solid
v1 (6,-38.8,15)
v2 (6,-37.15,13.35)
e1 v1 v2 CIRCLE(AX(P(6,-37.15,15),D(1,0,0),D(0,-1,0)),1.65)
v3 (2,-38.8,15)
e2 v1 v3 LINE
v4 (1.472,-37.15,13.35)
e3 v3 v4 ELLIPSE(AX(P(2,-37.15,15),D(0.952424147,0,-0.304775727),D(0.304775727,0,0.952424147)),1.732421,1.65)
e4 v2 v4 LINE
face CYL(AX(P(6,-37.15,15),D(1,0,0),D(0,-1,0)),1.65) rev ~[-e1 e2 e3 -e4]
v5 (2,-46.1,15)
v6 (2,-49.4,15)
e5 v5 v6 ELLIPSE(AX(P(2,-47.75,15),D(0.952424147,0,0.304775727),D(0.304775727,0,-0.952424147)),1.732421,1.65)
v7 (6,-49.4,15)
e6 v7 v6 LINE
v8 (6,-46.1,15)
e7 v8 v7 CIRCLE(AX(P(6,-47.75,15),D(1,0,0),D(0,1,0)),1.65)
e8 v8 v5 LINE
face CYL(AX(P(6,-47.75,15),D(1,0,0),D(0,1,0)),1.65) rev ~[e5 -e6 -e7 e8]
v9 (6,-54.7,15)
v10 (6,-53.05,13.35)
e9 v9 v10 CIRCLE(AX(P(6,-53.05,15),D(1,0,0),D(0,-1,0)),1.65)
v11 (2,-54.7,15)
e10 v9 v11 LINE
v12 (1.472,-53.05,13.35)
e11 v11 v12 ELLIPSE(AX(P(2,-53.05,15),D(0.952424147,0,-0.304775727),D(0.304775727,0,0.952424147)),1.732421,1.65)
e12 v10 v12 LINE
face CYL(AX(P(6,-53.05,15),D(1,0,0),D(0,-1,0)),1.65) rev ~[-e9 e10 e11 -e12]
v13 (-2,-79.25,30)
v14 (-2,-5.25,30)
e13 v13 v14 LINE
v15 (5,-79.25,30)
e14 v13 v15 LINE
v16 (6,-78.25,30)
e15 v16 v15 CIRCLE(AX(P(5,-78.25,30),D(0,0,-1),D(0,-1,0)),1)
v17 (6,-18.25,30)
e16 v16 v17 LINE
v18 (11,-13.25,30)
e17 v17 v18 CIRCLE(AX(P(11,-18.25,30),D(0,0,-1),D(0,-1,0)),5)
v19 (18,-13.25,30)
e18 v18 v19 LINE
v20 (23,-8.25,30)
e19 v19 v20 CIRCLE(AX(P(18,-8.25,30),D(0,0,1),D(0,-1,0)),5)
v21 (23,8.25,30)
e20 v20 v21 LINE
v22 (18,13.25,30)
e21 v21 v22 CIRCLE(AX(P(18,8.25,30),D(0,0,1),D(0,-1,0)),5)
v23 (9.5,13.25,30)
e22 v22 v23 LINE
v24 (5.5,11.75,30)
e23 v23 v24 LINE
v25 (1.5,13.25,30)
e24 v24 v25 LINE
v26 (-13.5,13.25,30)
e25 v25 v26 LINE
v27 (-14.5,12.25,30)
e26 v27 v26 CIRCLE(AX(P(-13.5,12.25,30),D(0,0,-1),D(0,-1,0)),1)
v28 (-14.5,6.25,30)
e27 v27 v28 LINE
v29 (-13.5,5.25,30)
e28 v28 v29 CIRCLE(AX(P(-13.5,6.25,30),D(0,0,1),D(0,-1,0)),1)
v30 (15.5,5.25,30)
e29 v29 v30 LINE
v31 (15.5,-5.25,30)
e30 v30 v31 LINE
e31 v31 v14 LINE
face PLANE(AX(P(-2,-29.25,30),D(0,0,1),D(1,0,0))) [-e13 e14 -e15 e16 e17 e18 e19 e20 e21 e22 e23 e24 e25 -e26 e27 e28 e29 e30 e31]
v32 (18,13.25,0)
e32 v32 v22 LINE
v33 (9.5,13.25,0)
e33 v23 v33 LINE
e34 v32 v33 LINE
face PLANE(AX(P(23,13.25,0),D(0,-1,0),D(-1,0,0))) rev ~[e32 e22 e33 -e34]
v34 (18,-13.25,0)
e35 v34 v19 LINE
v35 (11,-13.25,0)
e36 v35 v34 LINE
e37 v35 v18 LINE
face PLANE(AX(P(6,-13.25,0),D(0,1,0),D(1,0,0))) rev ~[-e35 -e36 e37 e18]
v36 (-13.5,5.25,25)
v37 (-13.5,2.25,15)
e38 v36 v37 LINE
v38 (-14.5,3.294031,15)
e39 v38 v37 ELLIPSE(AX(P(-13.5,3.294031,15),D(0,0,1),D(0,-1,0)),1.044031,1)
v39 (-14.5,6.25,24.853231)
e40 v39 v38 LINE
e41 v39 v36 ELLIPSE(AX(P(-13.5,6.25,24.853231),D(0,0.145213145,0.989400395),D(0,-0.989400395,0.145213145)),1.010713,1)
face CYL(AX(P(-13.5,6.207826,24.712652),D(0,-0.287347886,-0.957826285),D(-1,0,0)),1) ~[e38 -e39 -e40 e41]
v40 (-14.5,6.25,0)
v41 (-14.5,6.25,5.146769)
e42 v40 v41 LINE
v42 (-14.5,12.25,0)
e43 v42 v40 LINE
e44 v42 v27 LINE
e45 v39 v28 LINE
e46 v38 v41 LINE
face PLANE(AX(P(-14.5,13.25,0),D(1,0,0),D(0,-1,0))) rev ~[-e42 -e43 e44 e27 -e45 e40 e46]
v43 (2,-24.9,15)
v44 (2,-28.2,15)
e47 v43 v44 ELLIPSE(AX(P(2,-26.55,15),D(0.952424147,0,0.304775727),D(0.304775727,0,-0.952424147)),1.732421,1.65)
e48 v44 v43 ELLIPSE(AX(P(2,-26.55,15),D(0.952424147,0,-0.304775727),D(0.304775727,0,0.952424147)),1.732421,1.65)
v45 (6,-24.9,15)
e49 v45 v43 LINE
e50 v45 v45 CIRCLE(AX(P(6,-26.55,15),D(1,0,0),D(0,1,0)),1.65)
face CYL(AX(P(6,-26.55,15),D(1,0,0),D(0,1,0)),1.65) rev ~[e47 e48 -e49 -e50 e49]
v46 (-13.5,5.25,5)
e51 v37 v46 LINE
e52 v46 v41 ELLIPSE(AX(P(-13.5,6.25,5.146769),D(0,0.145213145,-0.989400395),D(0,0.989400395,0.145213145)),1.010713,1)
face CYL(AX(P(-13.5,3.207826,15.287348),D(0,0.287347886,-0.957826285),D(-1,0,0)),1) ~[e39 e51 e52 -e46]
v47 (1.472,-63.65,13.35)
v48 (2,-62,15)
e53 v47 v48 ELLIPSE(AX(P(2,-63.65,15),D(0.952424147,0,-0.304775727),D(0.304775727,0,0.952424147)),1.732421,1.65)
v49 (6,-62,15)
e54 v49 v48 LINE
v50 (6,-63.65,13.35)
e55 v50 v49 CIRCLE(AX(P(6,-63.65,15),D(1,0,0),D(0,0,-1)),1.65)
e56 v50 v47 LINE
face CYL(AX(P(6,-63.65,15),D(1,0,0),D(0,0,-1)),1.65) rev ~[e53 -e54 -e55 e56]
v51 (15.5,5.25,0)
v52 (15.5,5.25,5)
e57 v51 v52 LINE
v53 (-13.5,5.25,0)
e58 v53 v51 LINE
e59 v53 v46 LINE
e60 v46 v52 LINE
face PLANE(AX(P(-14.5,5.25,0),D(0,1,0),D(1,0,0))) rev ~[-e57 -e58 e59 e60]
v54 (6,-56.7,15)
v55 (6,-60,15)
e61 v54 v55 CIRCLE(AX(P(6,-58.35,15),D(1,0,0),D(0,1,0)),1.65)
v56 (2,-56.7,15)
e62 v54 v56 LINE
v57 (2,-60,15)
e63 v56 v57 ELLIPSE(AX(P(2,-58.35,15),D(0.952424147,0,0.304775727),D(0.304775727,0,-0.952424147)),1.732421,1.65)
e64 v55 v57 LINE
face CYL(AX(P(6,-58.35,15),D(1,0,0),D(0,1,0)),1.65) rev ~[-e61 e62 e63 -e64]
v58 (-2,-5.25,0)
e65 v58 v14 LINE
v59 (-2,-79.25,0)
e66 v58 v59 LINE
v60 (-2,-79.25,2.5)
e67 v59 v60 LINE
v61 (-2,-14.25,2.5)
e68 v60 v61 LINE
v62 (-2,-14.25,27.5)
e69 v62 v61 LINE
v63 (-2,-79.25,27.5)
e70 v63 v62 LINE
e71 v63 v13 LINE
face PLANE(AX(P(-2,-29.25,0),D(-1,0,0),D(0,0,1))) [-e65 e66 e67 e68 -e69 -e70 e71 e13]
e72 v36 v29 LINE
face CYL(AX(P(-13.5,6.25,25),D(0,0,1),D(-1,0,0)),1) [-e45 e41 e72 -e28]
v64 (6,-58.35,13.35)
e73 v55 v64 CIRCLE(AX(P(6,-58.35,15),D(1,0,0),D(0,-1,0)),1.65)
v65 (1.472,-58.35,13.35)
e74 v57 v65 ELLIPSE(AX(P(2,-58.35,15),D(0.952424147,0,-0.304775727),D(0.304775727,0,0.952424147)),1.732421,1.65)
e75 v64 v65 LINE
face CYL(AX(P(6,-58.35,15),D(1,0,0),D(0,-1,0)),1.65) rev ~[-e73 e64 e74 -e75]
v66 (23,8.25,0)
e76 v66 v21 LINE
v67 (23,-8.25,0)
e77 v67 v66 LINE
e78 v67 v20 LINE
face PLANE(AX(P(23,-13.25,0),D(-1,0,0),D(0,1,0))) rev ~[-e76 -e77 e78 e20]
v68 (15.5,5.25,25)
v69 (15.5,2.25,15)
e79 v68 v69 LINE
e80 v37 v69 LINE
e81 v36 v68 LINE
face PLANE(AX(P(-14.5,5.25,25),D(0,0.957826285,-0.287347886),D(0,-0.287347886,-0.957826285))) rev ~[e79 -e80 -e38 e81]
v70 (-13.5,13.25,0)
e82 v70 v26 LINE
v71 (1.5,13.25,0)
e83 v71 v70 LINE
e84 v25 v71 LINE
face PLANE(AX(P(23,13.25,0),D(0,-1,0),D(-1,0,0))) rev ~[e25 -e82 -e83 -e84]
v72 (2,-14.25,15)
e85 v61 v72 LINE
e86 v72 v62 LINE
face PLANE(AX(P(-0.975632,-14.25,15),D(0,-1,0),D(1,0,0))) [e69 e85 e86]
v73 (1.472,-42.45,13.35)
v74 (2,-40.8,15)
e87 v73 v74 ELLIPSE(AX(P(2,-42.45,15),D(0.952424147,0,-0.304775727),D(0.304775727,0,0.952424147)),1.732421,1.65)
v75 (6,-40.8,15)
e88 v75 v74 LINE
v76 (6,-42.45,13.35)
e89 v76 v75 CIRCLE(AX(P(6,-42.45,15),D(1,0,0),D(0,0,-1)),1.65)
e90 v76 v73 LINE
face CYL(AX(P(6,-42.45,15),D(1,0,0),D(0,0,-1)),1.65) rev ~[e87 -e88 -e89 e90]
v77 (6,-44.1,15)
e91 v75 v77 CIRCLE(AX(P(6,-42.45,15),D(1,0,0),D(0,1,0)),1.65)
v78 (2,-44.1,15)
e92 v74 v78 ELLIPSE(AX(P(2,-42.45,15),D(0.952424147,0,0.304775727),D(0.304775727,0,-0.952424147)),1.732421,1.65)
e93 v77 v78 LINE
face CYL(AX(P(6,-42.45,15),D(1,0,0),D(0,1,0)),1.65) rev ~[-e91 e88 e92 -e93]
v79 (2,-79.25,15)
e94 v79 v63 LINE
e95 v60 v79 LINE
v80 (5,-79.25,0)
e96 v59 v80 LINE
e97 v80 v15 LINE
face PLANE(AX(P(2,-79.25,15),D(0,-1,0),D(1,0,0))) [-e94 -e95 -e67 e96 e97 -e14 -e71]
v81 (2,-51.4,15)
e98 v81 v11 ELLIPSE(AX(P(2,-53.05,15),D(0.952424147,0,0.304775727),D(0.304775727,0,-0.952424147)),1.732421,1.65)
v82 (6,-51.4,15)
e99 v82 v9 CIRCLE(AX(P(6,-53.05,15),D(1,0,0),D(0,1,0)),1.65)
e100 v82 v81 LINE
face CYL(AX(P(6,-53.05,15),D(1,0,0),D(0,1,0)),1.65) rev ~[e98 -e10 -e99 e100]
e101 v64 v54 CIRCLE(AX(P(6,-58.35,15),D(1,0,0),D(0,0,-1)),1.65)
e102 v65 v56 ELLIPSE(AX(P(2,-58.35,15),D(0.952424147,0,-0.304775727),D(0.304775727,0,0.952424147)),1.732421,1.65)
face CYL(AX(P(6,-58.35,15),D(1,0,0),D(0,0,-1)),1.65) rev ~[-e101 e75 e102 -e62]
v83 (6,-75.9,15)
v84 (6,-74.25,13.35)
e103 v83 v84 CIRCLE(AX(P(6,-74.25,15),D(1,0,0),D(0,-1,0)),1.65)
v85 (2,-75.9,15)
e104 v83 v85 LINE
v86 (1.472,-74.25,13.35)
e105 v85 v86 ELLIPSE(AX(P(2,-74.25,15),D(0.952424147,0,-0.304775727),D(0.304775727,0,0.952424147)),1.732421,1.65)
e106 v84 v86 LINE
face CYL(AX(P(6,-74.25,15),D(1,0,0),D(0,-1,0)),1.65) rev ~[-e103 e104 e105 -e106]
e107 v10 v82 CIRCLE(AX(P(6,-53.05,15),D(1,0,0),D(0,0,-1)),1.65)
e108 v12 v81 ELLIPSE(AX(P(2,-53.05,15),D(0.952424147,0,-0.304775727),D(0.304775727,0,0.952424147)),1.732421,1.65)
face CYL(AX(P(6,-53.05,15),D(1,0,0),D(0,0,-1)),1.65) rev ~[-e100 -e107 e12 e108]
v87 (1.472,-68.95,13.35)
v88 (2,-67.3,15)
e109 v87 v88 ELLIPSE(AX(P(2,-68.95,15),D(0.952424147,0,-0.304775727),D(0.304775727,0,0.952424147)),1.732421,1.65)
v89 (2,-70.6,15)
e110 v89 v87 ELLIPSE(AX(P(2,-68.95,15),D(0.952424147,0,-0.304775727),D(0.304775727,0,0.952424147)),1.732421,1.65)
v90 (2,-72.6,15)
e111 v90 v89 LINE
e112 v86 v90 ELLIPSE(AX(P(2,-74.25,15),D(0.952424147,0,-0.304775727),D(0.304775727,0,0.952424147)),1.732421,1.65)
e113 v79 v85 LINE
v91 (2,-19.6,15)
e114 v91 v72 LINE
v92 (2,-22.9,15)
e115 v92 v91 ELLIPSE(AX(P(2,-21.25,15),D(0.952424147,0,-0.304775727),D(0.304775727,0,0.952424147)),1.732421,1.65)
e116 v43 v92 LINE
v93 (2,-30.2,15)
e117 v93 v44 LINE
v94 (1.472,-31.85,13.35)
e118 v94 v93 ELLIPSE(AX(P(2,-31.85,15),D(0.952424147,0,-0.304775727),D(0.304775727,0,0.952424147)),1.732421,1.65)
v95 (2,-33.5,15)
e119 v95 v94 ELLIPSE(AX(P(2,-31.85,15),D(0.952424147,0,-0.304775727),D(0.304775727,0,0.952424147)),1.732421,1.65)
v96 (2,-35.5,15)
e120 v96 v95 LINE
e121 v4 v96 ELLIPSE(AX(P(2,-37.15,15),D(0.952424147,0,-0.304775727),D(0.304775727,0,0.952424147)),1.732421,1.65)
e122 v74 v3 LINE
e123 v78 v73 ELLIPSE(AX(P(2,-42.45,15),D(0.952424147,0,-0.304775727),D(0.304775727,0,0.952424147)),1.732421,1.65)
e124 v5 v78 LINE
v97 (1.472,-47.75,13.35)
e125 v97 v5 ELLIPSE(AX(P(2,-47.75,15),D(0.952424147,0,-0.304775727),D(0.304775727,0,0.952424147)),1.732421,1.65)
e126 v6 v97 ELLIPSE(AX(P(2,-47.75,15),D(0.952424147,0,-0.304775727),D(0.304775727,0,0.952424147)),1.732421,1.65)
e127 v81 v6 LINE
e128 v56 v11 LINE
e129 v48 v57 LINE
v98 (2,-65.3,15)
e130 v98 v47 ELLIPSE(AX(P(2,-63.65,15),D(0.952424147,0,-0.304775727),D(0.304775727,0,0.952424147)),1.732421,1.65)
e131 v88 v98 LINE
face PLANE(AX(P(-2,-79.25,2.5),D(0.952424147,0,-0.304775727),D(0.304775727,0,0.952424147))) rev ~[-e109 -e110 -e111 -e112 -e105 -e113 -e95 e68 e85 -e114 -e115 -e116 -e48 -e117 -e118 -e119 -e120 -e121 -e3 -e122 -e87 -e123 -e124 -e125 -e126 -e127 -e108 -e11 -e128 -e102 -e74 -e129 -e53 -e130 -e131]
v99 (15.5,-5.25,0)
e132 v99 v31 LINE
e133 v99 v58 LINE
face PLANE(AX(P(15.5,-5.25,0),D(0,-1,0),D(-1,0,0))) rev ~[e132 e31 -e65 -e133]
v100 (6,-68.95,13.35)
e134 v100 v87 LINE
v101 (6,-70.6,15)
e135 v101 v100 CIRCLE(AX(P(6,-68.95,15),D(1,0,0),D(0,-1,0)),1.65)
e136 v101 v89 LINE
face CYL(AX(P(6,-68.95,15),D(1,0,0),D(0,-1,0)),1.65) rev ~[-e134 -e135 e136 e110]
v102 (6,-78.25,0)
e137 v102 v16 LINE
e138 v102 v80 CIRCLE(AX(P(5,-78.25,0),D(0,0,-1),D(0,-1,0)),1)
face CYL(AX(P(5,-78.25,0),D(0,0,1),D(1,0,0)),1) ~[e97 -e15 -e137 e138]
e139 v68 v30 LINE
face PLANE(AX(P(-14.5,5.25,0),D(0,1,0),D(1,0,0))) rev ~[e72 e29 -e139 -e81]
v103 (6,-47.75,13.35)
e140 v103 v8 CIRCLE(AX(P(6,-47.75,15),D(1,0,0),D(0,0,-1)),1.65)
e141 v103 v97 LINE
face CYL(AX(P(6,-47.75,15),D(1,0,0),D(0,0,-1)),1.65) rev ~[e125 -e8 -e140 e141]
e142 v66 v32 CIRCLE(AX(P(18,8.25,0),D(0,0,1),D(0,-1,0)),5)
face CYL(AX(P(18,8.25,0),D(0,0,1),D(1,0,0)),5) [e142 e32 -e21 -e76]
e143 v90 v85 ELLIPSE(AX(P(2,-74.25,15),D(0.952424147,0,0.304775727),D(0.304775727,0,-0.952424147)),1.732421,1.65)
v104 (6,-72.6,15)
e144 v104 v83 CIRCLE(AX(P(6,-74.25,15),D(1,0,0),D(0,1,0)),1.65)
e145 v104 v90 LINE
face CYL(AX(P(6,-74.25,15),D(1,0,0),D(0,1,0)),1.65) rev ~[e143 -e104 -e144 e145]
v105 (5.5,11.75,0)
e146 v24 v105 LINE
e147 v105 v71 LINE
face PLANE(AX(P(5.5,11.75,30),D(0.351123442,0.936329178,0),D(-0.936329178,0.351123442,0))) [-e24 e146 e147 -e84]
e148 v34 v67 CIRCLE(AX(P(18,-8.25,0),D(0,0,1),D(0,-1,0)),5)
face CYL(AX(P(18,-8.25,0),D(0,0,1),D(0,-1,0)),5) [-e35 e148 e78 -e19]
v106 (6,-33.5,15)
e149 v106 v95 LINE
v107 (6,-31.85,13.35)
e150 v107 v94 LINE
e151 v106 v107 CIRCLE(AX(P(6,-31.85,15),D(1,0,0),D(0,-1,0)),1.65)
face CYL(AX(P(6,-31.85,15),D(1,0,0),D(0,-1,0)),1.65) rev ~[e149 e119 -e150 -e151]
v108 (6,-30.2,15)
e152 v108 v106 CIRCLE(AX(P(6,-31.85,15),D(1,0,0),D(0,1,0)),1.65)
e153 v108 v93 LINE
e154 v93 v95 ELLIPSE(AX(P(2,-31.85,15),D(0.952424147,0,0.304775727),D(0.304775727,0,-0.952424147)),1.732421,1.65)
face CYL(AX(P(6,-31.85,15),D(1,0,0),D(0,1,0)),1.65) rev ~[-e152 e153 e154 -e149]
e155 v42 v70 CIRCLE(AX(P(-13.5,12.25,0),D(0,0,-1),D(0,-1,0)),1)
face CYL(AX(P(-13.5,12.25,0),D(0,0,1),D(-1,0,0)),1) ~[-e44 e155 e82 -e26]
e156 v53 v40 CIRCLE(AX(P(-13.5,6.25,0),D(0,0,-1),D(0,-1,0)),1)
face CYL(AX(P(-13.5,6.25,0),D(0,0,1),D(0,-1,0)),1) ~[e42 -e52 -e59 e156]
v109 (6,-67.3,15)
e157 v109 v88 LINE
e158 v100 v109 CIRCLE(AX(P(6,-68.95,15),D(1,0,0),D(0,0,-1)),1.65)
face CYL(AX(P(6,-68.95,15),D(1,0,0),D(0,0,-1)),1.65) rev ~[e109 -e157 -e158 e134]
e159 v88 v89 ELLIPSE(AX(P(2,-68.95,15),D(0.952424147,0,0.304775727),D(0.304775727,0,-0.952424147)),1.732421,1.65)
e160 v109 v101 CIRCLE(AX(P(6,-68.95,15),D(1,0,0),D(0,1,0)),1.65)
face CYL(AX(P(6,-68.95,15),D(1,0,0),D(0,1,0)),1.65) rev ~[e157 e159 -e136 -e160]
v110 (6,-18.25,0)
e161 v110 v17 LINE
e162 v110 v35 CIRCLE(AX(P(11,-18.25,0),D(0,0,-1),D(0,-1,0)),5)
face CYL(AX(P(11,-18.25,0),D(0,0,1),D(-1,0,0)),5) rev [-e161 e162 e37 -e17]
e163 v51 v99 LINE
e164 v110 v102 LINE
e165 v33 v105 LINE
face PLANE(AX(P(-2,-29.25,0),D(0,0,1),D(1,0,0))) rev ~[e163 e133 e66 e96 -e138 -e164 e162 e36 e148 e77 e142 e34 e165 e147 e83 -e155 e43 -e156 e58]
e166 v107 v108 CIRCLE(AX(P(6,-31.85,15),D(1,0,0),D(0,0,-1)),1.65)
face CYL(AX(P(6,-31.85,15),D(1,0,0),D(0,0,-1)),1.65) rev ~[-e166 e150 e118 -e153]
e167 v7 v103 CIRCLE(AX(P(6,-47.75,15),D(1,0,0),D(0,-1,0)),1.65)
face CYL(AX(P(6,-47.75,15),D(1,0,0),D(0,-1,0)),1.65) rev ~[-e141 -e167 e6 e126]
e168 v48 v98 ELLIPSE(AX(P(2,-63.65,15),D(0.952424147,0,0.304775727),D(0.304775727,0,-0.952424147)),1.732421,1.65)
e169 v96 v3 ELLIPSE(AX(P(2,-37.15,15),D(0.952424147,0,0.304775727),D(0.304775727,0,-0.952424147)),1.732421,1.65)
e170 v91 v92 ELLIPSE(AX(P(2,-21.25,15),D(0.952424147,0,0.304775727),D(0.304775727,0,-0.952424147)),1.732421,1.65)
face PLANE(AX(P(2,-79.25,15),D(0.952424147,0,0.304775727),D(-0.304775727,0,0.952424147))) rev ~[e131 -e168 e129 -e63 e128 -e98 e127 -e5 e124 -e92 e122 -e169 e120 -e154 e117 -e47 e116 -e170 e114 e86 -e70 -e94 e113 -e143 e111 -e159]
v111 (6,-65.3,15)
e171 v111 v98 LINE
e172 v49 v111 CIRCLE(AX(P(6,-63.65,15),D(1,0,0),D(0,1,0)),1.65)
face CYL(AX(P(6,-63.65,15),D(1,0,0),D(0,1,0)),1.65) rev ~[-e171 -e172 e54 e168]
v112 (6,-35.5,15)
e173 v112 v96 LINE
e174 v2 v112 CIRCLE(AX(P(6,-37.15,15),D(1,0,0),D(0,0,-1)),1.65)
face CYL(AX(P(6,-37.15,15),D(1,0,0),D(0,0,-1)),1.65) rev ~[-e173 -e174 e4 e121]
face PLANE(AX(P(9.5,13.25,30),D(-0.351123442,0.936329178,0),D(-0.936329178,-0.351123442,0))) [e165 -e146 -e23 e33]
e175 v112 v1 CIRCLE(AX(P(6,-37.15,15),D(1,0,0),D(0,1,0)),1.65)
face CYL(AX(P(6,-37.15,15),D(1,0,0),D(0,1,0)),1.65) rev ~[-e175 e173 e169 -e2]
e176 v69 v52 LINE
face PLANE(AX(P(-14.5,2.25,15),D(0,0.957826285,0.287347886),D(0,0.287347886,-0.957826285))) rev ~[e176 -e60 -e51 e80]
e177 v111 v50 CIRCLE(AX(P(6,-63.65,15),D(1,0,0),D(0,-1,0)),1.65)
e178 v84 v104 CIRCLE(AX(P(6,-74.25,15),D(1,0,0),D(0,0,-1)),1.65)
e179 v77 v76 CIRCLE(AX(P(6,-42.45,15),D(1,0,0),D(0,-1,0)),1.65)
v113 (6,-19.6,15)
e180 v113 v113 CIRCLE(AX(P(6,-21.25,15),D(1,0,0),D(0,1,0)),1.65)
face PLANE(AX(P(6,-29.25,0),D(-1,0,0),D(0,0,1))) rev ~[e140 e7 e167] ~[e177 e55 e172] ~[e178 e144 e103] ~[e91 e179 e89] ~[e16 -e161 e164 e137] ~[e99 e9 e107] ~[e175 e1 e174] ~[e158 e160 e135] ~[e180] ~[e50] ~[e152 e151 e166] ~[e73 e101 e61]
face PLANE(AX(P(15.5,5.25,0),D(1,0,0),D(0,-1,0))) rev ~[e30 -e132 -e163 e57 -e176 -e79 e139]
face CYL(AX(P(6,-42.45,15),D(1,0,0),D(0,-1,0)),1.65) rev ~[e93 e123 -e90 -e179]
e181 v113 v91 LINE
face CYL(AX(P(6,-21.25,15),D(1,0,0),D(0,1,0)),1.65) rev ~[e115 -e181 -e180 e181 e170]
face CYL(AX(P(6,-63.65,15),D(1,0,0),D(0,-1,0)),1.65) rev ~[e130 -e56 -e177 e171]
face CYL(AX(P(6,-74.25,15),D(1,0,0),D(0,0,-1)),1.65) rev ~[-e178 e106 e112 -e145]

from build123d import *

# Parameters (mm, degrees)
BOSS_EXTRUDE1_DEPTH = 30
CUT_EXTRUDE1_DEPTH  = 30
BOSS_EXTRUDE3_DEPTH = 30
SKETCH5_W           = 8
SKETCH5_H           = 30
BOSS_EXTRUDE4_DEPTH = 50
SKETCH6_R           = 1.65
CUT_EXTRUDE2_DEPTH  = 40
CUT_EXTRUDE3_DEPTH  = 65
FILLET1_R           = 5
FILLET3_R           = 1
FILLET4_R           = 1


with BuildPart() as part:
    # Sketch1 → Boss-Extrude1 (new body)
    with BuildSketch(Plane.XY):
        Polygon((-14.5, 13.25), (-14.5, 5.25), (15, 5.25), (15.5, 5.25), (15.5, -5.25), (15, -5.25), (-2, -5.25), (-2, -8.570490336), (-2, -29.25), (6, -29.25), (6, -13.25), (23, -13.25), (23, 13.25), align=None)
    extrude(amount=BOSS_EXTRUDE1_DEPTH)

    # Sketch3 → Cut-Extrude1 (cut)
    with BuildSketch(Plane.XY.offset(30)):
        Polygon((1.5, 13.25), (9.5, 13.25), (5.5, 11.75), align=None)
    extrude(amount=-CUT_EXTRUDE1_DEPTH, mode=Mode.SUBTRACT)

    # Sketch4 → Boss-Extrude3 (add)
    with BuildSketch(Plane.ZY.offset(14.5)):
        Polygon((5, 5.25), (25, 5.25), (15, 2.25), align=None)
    extrude(amount=-BOSS_EXTRUDE3_DEPTH)

    # Sketch5 → Boss-Extrude4 (add)
    with BuildSketch(Plane.XZ.offset(29.25)):
        with Locations((2, 15)):
            Rectangle(SKETCH5_W, SKETCH5_H)
    extrude(amount=BOSS_EXTRUDE4_DEPTH)

    # Sketch6 → Cut-Extrude2 (cut)
    with BuildSketch(Plane(origin=(6, 0, 0), x_dir=(0, 0, -1), z_dir=(1, 0, 0))):
        with BuildLine():
            ThreePointArc((-13.35, -31.85), (-13.833273811, -30.683273811), (-15, -30.2))
            Line((-15, -30.2), (-15, -33.5))
            ThreePointArc((-15, -33.5), (-13.833273811, -33.016726189), (-13.35, -31.85))
        make_face()
        with BuildLine():
            Line((-15, -33.5), (-15, -30.2))
            ThreePointArc((-15, -30.2), (-16.65, -31.85), (-15, -33.5))
        make_face()
        with BuildLine():
            ThreePointArc((-13.35, -37.15), (-13.833273811, -35.983273811), (-15, -35.5))
            Line((-15, -35.5), (-15, -38.8))
            ThreePointArc((-15, -38.8), (-13.833273811, -38.316726189), (-13.35, -37.15))
        make_face()
        with BuildLine():
            Line((-15, -38.8), (-15, -35.5))
            ThreePointArc((-15, -35.5), (-16.65, -37.15), (-15, -38.8))
        make_face()
        with BuildLine():
            ThreePointArc((-13.35, -42.45), (-13.833273811, -41.283273811), (-15, -40.8))
            Line((-15, -40.8), (-15, -44.1))
            ThreePointArc((-15, -44.1), (-13.833273811, -43.616726189), (-13.35, -42.45))
        make_face()
        with BuildLine():
            Line((-15, -44.1), (-15, -40.8))
            ThreePointArc((-15, -40.8), (-16.65, -42.45), (-15, -44.1))
        make_face()
        with BuildLine():
            ThreePointArc((-13.35, -47.75), (-13.833273811, -46.583273811), (-15, -46.1))
            Line((-15, -46.1), (-15, -49.4))
            ThreePointArc((-15, -49.4), (-13.833273811, -48.916726189), (-13.35, -47.75))
        make_face()
        with BuildLine():
            Line((-15, -49.4), (-15, -46.1))
            ThreePointArc((-15, -46.1), (-16.65, -47.75), (-15, -49.4))
        make_face()
        with BuildLine():
            ThreePointArc((-13.35, -53.05), (-13.833273811, -51.883273811), (-15, -51.4))
            Line((-15, -51.4), (-15, -54.7))
            ThreePointArc((-15, -54.7), (-13.833273811, -54.216726189), (-13.35, -53.05))
        make_face()
        with BuildLine():
            Line((-15, -54.7), (-15, -51.4))
            ThreePointArc((-15, -51.4), (-16.65, -53.05), (-15, -54.7))
        make_face()
        with BuildLine():
            ThreePointArc((-13.35, -58.35), (-13.833273811, -57.183273811), (-15, -56.7))
            Line((-15, -56.7), (-15, -60))
            ThreePointArc((-15, -60), (-13.833273811, -59.516726189), (-13.35, -58.35))
        make_face()
        with BuildLine():
            Line((-15, -60), (-15, -56.7))
            ThreePointArc((-15, -56.7), (-16.65, -58.35), (-15, -60))
        make_face()
        with BuildLine():
            ThreePointArc((-13.35, -63.65), (-13.833273811, -62.483273811), (-15, -62))
            Line((-15, -62), (-15, -65.3))
            ThreePointArc((-15, -65.3), (-13.833273811, -64.816726189), (-13.35, -63.65))
        make_face()
        with BuildLine():
            Line((-15, -65.3), (-15, -62))
            ThreePointArc((-15, -62), (-16.65, -63.65), (-15, -65.3))
        make_face()
        with BuildLine():
            ThreePointArc((-13.35, -68.95), (-13.833273811, -67.783273811), (-15, -67.3))
            Line((-15, -67.3), (-15, -70.6))
            ThreePointArc((-15, -70.6), (-13.833273811, -70.116726189), (-13.35, -68.95))
        make_face()
        with BuildLine():
            Line((-15, -70.6), (-15, -67.3))
            ThreePointArc((-15, -67.3), (-16.65, -68.95), (-15, -70.6))
        make_face()
        with BuildLine():
            ThreePointArc((-13.35, -74.25), (-13.833273811, -73.083273811), (-15, -72.6))
            Line((-15, -72.6), (-15, -75.9))
            ThreePointArc((-15, -75.9), (-13.833273811, -75.416726189), (-13.35, -74.25))
        make_face()
        with BuildLine():
            Line((-15, -75.9), (-15, -72.6))
            ThreePointArc((-15, -72.6), (-16.65, -74.25), (-15, -75.9))
        make_face()
        with Locations(Location((-15, -26.55, 0), (0, 0, 90))):
            Circle(SKETCH6_R)
        with Locations(Location((-15, -21.25, 0), (0, 0, 90))):
            Circle(SKETCH6_R)
    extrude(amount=-CUT_EXTRUDE2_DEPTH, mode=Mode.SUBTRACT)

    # Sketch7 → Cut-Extrude3 (cut)
    with BuildSketch(Plane.XZ.offset(79.25)):
        Polygon((-2, 27.5), (-2, 2.5), (2, 15), align=None)
    extrude(amount=-CUT_EXTRUDE3_DEPTH, mode=Mode.SUBTRACT)

    # Fillet1
    fillet1_edges = [part.edges().sort_by_distance(p)[0] for p in [
        (23, 13.25, 15),
        (23, -13.25, 15),
        (6, -13.25, 15),
    ]]
    fillet(fillet1_edges, radius=FILLET1_R)

    # Fillet3
    fillet3_edges = [part.edges().sort_by_distance(p)[0] for p in [
        (6, -79.25, 15),
    ]]
    fillet(fillet3_edges, radius=FILLET3_R)

    # Fillet4
    fillet4_edges = [part.edges().sort_by_distance(p)[0] for p in [
        (-14.5, 5.25, 27.5),
        (-14.5, 13.25, 15),
        (-14.5, 5.25, 2.5),
        (-14.5, 3.75, 20),
        (-14.5, 3.75, 10),
    ]]
    fillet(fillet4_edges, radius=FILLET4_R)


solid = part.part
